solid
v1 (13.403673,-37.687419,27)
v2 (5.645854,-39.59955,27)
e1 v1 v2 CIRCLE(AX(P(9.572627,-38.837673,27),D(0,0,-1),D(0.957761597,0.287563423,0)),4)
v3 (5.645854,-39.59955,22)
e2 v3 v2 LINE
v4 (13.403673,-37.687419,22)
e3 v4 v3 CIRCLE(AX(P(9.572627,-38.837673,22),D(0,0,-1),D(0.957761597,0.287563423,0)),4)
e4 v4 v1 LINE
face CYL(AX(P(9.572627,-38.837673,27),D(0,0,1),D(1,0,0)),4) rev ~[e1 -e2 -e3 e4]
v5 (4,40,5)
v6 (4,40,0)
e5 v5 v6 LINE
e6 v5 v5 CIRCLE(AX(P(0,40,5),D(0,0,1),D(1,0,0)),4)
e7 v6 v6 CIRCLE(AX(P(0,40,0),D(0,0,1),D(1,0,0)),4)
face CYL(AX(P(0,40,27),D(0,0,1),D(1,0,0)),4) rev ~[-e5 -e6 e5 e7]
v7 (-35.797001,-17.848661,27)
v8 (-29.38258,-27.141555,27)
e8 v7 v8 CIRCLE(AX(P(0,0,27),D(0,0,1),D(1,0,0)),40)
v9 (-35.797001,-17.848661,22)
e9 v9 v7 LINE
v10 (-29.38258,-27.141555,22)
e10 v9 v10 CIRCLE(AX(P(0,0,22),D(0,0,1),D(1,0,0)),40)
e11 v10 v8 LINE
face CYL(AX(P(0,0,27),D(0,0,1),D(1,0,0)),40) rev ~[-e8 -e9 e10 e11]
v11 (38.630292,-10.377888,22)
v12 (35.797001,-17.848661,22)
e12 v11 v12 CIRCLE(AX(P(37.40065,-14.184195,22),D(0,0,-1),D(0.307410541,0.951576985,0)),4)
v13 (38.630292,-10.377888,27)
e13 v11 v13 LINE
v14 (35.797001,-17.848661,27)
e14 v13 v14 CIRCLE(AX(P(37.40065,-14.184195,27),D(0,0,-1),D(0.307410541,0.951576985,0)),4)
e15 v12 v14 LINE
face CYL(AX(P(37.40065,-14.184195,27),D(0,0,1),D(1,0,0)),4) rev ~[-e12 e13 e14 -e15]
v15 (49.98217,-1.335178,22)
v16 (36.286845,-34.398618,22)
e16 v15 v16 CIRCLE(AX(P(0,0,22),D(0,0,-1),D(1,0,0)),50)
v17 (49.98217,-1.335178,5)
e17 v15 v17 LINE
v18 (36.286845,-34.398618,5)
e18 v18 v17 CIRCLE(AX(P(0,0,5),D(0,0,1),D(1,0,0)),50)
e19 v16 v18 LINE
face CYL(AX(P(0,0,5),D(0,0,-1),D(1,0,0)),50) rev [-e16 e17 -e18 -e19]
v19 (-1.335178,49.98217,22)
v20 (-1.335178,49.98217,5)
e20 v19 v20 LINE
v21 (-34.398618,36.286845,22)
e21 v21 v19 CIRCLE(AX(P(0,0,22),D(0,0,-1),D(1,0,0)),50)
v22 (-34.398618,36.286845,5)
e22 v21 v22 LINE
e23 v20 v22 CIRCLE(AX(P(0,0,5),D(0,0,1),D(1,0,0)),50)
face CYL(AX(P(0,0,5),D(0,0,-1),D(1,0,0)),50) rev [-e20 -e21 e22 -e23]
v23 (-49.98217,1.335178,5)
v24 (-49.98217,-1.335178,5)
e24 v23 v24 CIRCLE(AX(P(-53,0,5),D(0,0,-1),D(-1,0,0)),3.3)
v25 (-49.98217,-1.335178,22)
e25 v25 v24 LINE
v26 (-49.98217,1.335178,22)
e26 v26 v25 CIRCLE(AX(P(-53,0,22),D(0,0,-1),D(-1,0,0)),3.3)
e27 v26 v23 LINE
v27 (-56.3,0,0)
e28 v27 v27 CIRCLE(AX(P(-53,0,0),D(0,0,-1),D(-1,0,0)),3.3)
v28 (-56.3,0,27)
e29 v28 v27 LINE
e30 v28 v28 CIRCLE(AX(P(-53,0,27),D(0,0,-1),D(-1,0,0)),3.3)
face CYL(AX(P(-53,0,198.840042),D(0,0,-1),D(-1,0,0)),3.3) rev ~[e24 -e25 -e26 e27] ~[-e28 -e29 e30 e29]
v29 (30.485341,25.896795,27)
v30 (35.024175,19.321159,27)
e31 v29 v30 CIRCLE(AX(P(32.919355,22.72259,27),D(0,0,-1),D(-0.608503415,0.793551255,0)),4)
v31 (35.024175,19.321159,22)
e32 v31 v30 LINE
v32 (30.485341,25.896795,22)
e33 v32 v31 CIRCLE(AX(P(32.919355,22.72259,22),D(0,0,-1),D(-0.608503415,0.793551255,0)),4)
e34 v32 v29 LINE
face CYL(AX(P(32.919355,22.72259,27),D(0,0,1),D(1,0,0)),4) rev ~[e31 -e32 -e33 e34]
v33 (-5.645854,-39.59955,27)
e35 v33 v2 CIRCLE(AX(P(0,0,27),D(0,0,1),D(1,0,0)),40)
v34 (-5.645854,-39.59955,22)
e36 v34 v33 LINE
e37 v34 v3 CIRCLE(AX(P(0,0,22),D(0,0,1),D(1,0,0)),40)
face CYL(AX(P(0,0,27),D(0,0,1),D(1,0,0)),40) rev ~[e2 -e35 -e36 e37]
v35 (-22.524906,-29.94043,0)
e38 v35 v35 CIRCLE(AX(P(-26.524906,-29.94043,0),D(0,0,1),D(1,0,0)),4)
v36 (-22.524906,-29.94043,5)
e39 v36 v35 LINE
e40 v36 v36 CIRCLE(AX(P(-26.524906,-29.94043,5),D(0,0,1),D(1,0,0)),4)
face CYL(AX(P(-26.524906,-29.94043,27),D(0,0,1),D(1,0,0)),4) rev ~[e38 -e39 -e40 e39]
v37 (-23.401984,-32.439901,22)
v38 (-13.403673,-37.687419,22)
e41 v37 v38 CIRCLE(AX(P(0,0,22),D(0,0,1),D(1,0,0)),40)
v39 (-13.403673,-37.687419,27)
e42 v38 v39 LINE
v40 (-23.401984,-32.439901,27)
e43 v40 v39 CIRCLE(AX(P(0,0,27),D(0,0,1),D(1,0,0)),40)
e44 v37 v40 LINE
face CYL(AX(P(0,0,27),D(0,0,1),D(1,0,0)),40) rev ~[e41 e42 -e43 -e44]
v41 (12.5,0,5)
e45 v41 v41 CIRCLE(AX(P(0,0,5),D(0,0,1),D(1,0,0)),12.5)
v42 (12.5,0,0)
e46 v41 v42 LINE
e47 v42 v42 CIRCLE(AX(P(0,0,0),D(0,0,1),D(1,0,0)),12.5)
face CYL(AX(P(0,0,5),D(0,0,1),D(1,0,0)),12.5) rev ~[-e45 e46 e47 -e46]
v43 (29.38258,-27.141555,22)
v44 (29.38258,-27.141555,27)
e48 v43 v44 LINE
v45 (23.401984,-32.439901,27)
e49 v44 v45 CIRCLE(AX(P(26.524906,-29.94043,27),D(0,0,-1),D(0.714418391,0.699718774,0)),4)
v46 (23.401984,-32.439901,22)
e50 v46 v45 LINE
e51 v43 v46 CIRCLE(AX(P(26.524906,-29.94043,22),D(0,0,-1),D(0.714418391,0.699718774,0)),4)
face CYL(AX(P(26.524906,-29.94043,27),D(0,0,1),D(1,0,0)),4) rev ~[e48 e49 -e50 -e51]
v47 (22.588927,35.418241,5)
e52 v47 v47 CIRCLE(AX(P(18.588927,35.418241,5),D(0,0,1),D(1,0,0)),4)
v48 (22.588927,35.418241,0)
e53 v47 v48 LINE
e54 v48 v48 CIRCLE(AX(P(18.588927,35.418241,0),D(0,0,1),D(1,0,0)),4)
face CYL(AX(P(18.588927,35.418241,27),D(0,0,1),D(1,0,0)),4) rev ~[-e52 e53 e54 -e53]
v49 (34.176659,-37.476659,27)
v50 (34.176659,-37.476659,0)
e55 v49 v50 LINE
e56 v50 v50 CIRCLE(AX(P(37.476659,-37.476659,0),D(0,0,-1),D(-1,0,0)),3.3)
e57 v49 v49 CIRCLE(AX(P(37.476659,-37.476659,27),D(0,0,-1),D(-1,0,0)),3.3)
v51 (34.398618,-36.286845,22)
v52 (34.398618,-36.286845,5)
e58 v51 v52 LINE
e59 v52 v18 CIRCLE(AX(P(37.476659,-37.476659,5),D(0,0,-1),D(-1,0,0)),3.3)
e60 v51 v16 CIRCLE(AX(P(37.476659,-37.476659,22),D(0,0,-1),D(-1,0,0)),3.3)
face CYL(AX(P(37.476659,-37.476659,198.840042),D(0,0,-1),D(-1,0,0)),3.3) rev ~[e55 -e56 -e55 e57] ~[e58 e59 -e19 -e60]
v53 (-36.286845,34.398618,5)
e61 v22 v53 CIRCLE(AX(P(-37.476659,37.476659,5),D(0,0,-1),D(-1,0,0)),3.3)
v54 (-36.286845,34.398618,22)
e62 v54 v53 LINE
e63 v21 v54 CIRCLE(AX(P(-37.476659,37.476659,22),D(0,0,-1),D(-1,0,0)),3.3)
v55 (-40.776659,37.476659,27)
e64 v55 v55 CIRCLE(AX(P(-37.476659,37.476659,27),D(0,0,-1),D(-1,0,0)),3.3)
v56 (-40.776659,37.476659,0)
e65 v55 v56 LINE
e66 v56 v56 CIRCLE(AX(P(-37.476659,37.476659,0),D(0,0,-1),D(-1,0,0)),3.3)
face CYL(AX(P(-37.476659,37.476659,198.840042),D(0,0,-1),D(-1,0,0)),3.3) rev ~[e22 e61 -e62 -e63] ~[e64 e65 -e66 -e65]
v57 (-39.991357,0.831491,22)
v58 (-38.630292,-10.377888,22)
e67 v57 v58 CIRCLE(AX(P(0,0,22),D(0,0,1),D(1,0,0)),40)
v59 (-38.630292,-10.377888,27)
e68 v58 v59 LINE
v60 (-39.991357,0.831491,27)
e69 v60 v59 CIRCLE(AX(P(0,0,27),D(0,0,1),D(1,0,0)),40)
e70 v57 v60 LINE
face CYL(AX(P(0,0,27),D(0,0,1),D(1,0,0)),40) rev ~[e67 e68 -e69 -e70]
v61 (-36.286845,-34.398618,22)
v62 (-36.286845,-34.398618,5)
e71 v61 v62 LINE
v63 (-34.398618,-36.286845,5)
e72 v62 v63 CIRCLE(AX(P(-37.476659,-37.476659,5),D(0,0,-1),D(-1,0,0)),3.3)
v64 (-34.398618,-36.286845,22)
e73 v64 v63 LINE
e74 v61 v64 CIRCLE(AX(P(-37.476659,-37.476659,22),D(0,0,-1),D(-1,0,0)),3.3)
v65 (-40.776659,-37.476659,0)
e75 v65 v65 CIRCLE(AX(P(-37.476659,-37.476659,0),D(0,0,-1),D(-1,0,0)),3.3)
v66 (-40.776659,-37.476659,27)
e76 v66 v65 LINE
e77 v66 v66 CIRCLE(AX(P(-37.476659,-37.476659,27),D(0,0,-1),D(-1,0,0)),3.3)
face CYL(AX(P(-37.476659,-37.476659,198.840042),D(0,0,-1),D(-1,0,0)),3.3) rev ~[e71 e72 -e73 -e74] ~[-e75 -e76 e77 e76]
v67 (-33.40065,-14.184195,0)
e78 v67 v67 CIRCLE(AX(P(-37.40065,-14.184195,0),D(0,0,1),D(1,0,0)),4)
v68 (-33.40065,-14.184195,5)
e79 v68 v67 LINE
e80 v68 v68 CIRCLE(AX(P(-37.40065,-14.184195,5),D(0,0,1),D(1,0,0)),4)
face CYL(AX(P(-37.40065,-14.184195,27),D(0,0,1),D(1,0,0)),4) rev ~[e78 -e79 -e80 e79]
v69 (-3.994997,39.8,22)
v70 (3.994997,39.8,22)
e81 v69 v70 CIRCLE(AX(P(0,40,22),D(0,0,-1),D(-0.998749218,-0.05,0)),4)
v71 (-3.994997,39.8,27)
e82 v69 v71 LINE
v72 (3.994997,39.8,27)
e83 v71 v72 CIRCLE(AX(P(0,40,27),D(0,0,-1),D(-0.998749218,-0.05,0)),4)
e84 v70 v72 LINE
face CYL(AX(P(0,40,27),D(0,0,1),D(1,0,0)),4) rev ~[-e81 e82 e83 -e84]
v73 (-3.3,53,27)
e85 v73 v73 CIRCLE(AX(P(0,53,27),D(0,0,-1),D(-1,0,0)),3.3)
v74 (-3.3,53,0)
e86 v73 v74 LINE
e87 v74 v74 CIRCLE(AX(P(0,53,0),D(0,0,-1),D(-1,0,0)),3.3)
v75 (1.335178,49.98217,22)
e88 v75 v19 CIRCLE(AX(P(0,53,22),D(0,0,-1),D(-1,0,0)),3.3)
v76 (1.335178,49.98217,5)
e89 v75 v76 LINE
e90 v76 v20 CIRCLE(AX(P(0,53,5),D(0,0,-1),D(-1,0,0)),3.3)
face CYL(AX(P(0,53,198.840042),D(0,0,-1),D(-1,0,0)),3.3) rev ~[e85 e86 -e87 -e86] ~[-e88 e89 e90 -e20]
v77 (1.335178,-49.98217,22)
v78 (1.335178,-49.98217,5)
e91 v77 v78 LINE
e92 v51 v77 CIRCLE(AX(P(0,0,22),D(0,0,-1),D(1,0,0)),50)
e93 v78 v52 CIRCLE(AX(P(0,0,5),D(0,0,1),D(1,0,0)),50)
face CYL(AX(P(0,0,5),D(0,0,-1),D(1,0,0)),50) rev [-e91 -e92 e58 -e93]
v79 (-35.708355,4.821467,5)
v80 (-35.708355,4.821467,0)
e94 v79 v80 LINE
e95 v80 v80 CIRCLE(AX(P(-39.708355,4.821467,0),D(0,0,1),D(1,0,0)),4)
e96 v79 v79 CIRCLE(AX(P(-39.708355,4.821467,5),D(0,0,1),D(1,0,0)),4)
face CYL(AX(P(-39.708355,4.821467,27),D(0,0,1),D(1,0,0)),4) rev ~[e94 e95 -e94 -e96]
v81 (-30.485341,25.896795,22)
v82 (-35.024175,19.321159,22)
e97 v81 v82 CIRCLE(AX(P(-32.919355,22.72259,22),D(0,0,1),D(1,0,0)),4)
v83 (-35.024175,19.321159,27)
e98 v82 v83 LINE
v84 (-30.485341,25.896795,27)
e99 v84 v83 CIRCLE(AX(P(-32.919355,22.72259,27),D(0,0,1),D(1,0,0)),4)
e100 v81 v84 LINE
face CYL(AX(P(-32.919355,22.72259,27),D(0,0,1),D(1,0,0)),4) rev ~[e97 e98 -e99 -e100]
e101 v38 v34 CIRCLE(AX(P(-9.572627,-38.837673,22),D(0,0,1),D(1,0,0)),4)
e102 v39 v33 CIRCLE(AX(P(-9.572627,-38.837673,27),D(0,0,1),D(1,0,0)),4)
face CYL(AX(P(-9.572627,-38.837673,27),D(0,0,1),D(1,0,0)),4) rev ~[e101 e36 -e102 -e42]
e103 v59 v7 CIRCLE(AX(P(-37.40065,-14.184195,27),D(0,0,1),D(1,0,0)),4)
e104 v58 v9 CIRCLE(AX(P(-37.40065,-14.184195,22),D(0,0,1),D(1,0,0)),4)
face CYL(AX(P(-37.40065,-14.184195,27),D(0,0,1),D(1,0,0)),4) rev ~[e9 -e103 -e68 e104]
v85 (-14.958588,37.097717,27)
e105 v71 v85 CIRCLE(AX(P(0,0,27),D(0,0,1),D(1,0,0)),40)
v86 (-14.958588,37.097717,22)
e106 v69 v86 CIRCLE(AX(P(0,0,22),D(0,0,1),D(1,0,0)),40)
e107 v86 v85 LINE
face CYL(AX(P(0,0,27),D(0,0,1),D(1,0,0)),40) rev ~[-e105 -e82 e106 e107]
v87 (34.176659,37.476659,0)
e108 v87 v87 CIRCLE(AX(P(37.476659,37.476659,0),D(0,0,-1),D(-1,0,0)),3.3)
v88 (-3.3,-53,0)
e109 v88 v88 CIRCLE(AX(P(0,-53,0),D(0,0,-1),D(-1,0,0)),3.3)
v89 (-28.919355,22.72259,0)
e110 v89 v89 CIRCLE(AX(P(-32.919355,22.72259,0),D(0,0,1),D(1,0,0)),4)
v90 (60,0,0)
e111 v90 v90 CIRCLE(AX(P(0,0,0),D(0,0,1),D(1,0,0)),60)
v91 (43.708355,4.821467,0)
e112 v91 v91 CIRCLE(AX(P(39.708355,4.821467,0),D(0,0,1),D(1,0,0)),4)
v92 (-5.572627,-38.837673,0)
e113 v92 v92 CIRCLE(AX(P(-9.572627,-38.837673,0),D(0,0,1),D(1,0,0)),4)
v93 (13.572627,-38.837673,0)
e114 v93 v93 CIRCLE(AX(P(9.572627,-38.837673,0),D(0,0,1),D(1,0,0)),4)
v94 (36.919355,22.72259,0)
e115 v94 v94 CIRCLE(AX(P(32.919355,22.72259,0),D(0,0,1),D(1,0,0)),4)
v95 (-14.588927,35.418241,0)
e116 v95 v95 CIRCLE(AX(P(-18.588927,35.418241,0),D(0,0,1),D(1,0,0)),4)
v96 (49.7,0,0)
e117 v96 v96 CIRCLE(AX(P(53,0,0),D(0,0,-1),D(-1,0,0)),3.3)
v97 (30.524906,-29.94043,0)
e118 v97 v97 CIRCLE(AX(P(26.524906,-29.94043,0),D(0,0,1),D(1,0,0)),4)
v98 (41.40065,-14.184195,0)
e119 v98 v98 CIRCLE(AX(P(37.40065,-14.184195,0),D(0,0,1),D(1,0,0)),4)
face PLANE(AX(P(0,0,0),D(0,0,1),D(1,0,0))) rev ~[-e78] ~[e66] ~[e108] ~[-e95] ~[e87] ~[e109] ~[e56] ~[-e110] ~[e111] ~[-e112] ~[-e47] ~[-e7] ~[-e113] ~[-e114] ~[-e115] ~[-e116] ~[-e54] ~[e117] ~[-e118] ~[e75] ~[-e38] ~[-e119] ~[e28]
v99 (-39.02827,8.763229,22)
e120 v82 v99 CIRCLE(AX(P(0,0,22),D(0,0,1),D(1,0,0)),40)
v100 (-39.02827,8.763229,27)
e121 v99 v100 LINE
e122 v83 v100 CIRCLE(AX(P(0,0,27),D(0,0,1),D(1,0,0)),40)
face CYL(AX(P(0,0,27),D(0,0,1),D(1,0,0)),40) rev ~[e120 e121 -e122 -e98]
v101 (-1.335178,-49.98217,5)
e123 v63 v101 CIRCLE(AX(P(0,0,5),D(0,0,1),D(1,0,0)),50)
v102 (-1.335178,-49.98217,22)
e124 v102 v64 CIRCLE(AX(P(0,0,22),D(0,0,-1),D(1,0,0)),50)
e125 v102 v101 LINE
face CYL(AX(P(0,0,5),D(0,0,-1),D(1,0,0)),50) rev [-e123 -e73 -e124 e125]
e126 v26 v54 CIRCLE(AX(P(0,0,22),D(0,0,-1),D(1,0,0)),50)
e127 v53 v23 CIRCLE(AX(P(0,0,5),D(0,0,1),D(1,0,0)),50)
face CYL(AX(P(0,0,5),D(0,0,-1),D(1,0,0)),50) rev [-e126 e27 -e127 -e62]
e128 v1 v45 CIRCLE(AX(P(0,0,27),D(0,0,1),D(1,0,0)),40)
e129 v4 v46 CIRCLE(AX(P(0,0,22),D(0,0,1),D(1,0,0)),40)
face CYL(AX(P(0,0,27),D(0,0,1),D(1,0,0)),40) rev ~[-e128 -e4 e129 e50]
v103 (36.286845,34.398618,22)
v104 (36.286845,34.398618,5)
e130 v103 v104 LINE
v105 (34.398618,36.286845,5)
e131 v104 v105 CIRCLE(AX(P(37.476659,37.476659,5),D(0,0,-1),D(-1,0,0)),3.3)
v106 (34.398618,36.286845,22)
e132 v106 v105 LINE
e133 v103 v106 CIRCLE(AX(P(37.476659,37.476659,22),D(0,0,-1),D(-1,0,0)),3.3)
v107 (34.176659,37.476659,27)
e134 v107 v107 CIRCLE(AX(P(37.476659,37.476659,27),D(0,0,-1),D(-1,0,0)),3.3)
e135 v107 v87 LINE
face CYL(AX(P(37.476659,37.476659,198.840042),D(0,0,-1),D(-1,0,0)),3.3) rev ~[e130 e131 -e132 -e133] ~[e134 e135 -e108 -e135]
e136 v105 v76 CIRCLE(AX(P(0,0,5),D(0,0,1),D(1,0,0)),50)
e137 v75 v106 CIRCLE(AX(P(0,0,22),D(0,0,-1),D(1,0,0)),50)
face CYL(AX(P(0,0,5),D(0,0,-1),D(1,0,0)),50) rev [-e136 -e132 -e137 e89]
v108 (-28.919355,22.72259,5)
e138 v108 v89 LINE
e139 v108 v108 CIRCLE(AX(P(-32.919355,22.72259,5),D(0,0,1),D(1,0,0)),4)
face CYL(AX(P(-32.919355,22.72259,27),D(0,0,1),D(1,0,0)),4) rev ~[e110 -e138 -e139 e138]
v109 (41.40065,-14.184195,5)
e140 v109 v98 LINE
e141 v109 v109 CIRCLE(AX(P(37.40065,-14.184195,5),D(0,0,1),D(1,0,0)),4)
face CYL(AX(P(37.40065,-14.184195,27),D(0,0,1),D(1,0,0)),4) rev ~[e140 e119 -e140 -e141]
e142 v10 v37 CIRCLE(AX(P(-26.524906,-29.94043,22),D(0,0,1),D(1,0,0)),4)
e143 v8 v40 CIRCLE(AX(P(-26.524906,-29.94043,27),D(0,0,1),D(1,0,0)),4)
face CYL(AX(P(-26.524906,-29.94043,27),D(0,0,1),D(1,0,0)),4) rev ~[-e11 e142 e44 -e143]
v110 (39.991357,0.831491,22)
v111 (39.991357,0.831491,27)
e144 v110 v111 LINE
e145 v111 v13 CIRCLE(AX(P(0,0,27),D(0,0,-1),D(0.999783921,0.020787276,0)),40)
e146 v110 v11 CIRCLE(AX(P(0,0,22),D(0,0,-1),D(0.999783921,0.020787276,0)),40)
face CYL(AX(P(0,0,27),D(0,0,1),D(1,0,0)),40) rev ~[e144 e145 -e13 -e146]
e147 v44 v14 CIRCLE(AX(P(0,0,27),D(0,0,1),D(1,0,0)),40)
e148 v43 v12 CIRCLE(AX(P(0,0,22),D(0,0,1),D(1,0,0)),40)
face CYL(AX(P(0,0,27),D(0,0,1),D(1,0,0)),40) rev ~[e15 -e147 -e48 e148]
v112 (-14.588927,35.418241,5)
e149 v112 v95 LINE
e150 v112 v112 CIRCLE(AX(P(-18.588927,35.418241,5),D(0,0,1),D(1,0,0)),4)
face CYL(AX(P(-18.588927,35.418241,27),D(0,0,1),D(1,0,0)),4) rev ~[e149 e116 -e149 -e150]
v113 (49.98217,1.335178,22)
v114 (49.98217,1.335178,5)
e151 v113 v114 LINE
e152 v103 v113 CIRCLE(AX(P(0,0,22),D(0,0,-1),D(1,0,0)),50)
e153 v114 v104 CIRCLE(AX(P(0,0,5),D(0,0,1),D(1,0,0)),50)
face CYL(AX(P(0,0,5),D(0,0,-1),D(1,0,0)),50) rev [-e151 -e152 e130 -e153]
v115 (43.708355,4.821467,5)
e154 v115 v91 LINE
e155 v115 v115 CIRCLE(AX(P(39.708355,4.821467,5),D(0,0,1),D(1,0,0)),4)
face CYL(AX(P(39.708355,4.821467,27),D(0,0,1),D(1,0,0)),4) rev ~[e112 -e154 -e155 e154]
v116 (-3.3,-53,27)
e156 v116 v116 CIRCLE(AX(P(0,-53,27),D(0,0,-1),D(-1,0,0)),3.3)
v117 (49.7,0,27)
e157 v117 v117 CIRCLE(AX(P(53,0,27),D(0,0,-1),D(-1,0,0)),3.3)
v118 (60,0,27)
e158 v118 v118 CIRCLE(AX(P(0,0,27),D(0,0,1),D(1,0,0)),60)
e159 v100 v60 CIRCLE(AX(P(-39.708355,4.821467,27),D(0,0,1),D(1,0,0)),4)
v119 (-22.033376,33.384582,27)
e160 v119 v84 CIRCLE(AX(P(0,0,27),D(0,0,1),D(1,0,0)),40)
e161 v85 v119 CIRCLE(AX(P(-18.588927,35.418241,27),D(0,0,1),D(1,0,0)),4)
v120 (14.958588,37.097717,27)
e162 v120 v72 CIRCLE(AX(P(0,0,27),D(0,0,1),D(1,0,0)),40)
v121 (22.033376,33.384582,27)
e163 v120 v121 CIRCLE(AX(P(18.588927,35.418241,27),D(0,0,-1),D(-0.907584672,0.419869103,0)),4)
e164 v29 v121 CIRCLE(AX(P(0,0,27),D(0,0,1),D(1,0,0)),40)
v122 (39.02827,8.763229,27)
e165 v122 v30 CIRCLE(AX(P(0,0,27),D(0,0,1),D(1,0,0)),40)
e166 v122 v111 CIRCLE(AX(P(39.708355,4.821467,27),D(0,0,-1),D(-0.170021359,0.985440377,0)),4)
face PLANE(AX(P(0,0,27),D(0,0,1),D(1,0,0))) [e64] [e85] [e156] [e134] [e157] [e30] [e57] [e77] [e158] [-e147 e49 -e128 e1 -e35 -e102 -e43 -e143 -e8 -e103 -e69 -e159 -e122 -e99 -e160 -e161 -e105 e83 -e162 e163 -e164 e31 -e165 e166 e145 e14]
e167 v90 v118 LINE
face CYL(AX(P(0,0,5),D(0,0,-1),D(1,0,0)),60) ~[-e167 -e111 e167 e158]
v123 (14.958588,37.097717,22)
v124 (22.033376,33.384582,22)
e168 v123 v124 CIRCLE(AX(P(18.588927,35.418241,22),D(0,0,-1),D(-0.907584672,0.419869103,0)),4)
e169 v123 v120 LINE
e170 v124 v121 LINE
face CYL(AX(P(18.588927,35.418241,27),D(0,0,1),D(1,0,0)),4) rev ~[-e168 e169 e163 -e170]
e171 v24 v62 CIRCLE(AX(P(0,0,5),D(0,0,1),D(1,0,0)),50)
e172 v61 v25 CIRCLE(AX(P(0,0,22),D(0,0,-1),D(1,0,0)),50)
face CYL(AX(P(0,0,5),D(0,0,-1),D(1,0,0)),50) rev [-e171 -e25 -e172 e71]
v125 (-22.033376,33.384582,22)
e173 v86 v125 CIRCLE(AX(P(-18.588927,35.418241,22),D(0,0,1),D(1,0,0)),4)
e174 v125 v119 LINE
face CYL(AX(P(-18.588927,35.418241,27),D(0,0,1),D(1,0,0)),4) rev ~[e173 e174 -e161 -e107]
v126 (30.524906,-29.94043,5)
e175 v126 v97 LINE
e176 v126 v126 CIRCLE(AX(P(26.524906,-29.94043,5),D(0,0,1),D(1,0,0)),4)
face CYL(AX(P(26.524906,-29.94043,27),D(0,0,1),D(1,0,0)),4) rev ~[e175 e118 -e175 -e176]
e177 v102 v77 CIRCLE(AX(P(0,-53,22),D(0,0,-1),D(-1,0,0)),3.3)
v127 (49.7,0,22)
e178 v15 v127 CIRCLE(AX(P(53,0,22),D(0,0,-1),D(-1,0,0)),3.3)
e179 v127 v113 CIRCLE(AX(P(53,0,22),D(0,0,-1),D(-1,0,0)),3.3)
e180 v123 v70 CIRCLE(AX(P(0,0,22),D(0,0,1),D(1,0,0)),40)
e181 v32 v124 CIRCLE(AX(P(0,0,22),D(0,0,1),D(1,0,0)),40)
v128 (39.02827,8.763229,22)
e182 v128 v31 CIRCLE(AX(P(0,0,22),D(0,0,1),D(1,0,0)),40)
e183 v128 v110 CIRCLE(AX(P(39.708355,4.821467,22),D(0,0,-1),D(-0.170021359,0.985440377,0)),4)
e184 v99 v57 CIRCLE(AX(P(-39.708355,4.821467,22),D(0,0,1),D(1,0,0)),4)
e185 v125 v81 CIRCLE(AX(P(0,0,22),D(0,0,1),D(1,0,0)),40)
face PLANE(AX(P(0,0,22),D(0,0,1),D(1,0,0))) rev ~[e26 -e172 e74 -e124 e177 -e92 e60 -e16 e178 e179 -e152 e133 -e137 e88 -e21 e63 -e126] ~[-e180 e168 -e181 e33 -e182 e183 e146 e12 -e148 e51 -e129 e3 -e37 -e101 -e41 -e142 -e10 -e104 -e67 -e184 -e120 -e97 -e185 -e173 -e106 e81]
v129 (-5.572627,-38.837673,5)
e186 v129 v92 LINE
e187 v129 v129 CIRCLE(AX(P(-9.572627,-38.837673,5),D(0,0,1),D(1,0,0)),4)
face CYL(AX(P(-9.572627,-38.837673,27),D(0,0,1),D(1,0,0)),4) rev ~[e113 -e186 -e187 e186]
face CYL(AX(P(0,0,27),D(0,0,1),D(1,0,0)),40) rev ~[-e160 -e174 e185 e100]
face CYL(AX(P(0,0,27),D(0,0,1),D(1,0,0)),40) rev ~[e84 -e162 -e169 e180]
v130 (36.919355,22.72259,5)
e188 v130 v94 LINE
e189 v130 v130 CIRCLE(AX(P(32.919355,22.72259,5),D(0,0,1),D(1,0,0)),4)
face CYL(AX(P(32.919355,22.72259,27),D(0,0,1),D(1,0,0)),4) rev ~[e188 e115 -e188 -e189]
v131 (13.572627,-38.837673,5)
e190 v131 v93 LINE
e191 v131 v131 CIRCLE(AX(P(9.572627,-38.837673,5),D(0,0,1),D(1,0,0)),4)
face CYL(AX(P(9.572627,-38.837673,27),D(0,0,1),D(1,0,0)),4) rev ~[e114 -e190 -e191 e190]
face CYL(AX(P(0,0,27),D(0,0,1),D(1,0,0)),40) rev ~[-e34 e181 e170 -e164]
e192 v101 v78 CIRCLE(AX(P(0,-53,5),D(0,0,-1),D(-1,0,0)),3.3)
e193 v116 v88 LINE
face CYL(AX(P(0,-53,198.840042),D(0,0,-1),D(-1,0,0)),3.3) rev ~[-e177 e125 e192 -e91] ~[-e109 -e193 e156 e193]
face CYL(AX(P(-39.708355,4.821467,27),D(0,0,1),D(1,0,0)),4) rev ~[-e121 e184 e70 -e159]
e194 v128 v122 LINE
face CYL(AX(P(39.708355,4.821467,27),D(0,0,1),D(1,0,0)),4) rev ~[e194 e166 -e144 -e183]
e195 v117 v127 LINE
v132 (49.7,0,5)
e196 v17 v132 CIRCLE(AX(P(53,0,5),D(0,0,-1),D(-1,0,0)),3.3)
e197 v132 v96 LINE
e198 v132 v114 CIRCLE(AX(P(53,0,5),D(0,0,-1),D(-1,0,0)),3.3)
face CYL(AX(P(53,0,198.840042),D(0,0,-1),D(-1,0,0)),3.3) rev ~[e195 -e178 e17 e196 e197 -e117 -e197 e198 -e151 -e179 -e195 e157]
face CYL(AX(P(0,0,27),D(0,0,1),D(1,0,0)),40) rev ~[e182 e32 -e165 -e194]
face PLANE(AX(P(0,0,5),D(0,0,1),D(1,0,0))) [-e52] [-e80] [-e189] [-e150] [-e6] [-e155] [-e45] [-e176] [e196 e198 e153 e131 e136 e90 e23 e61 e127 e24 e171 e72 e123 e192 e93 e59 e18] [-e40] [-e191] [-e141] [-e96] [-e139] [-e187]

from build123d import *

# Parameters (mm, degrees)
SKETCH1_R            = 60
BOSS_EXTRUDE1_DEPTH  = 5
SKETCH2_R            = 60
SKETCH2_R_2          = 50
BOSS_EXTRUDE2_DEPTH  = 22
SKETCH3_R            = 60
SKETCH3_R_2          = 40
BOSS_EXTRUDE3_DEPTH  = 5
SKETCH4_R            = 12.5
CUT_EXTRUDE1_DEPTH   = 6
SKETCH5_R            = 4
CUT_EXTRUDE2_DEPTH   = 28
M6_CLEARANCE_HOLE1_D = 6.6


with BuildPart() as part:
    # Sketch1 → Boss-Extrude1 (new body)
    with BuildSketch(Plane.XY):
        Circle(SKETCH1_R)
    extrude(amount=BOSS_EXTRUDE1_DEPTH)

    # Sketch2 → Boss-Extrude2 (add)
    with BuildSketch(Plane.XY.offset(5)):
        Circle(SKETCH2_R)
        Circle(SKETCH2_R_2, mode=Mode.SUBTRACT)
    extrude(amount=BOSS_EXTRUDE2_DEPTH)

    # Sketch3 → Boss-Extrude3 (add)
    with BuildSketch(Plane.XY.offset(27)):
        Circle(SKETCH3_R)
        Circle(SKETCH3_R_2, mode=Mode.SUBTRACT)
    extrude(amount=-BOSS_EXTRUDE3_DEPTH)

    # Sketch4 → Cut-Extrude1 (cut, through all)
    with BuildSketch(Plane.XY.offset(5)):
        Circle(SKETCH4_R)
    extrude(amount=-CUT_EXTRUDE1_DEPTH, mode=Mode.SUBTRACT)

    # Sketch5 → Cut-Extrude2 (cut, through all)
    with BuildSketch(Plane.XY.offset(27)):
        with Locations((0, 40)):
            Circle(SKETCH5_R)
        with Locations((18.588926882, 35.418241026)):
            Circle(SKETCH5_R)
        with Locations((32.919354636, 22.722589869)):
            Circle(SKETCH5_R)
        with Locations((39.708354964, 4.82146721)):
            Circle(SKETCH5_R)
        with Locations((37.400649707, -14.184195482)):
            Circle(SKETCH5_R)
        with Locations((26.52490633, -29.940429927)):
            Circle(SKETCH5_R)
        with Locations((9.572626572, -38.837672697)):
            Circle(SKETCH5_R)
        with Locations((-9.572626572, -38.837672697)):
            Circle(SKETCH5_R)
        with Locations((-26.52490633, -29.940429927)):
            Circle(SKETCH5_R)
        with Locations((-37.400649707, -14.184195482)):
            Circle(SKETCH5_R)
        with Locations((-39.708354964, 4.82146721)):
            Circle(SKETCH5_R)
        with Locations((-32.919354636, 22.722589869)):
            Circle(SKETCH5_R)
        with Locations((-18.588926882, 35.418241026)):
            Circle(SKETCH5_R)
    extrude(amount=-CUT_EXTRUDE2_DEPTH, mode=Mode.SUBTRACT)

    # M6 Clearance Hole1 (through all)
    with Locations(Plane.XY.offset(27)):
        with Locations((0, 53), (37.476659403, 37.476659403), (53, 0), (37.476659403, -37.476659403), (0, -53), (-37.476659403, -37.476659403), (-53, 0), (-37.476659403, 37.476659403)):
            Hole(M6_CLEARANCE_HOLE1_D / 2)


solid = part.part
